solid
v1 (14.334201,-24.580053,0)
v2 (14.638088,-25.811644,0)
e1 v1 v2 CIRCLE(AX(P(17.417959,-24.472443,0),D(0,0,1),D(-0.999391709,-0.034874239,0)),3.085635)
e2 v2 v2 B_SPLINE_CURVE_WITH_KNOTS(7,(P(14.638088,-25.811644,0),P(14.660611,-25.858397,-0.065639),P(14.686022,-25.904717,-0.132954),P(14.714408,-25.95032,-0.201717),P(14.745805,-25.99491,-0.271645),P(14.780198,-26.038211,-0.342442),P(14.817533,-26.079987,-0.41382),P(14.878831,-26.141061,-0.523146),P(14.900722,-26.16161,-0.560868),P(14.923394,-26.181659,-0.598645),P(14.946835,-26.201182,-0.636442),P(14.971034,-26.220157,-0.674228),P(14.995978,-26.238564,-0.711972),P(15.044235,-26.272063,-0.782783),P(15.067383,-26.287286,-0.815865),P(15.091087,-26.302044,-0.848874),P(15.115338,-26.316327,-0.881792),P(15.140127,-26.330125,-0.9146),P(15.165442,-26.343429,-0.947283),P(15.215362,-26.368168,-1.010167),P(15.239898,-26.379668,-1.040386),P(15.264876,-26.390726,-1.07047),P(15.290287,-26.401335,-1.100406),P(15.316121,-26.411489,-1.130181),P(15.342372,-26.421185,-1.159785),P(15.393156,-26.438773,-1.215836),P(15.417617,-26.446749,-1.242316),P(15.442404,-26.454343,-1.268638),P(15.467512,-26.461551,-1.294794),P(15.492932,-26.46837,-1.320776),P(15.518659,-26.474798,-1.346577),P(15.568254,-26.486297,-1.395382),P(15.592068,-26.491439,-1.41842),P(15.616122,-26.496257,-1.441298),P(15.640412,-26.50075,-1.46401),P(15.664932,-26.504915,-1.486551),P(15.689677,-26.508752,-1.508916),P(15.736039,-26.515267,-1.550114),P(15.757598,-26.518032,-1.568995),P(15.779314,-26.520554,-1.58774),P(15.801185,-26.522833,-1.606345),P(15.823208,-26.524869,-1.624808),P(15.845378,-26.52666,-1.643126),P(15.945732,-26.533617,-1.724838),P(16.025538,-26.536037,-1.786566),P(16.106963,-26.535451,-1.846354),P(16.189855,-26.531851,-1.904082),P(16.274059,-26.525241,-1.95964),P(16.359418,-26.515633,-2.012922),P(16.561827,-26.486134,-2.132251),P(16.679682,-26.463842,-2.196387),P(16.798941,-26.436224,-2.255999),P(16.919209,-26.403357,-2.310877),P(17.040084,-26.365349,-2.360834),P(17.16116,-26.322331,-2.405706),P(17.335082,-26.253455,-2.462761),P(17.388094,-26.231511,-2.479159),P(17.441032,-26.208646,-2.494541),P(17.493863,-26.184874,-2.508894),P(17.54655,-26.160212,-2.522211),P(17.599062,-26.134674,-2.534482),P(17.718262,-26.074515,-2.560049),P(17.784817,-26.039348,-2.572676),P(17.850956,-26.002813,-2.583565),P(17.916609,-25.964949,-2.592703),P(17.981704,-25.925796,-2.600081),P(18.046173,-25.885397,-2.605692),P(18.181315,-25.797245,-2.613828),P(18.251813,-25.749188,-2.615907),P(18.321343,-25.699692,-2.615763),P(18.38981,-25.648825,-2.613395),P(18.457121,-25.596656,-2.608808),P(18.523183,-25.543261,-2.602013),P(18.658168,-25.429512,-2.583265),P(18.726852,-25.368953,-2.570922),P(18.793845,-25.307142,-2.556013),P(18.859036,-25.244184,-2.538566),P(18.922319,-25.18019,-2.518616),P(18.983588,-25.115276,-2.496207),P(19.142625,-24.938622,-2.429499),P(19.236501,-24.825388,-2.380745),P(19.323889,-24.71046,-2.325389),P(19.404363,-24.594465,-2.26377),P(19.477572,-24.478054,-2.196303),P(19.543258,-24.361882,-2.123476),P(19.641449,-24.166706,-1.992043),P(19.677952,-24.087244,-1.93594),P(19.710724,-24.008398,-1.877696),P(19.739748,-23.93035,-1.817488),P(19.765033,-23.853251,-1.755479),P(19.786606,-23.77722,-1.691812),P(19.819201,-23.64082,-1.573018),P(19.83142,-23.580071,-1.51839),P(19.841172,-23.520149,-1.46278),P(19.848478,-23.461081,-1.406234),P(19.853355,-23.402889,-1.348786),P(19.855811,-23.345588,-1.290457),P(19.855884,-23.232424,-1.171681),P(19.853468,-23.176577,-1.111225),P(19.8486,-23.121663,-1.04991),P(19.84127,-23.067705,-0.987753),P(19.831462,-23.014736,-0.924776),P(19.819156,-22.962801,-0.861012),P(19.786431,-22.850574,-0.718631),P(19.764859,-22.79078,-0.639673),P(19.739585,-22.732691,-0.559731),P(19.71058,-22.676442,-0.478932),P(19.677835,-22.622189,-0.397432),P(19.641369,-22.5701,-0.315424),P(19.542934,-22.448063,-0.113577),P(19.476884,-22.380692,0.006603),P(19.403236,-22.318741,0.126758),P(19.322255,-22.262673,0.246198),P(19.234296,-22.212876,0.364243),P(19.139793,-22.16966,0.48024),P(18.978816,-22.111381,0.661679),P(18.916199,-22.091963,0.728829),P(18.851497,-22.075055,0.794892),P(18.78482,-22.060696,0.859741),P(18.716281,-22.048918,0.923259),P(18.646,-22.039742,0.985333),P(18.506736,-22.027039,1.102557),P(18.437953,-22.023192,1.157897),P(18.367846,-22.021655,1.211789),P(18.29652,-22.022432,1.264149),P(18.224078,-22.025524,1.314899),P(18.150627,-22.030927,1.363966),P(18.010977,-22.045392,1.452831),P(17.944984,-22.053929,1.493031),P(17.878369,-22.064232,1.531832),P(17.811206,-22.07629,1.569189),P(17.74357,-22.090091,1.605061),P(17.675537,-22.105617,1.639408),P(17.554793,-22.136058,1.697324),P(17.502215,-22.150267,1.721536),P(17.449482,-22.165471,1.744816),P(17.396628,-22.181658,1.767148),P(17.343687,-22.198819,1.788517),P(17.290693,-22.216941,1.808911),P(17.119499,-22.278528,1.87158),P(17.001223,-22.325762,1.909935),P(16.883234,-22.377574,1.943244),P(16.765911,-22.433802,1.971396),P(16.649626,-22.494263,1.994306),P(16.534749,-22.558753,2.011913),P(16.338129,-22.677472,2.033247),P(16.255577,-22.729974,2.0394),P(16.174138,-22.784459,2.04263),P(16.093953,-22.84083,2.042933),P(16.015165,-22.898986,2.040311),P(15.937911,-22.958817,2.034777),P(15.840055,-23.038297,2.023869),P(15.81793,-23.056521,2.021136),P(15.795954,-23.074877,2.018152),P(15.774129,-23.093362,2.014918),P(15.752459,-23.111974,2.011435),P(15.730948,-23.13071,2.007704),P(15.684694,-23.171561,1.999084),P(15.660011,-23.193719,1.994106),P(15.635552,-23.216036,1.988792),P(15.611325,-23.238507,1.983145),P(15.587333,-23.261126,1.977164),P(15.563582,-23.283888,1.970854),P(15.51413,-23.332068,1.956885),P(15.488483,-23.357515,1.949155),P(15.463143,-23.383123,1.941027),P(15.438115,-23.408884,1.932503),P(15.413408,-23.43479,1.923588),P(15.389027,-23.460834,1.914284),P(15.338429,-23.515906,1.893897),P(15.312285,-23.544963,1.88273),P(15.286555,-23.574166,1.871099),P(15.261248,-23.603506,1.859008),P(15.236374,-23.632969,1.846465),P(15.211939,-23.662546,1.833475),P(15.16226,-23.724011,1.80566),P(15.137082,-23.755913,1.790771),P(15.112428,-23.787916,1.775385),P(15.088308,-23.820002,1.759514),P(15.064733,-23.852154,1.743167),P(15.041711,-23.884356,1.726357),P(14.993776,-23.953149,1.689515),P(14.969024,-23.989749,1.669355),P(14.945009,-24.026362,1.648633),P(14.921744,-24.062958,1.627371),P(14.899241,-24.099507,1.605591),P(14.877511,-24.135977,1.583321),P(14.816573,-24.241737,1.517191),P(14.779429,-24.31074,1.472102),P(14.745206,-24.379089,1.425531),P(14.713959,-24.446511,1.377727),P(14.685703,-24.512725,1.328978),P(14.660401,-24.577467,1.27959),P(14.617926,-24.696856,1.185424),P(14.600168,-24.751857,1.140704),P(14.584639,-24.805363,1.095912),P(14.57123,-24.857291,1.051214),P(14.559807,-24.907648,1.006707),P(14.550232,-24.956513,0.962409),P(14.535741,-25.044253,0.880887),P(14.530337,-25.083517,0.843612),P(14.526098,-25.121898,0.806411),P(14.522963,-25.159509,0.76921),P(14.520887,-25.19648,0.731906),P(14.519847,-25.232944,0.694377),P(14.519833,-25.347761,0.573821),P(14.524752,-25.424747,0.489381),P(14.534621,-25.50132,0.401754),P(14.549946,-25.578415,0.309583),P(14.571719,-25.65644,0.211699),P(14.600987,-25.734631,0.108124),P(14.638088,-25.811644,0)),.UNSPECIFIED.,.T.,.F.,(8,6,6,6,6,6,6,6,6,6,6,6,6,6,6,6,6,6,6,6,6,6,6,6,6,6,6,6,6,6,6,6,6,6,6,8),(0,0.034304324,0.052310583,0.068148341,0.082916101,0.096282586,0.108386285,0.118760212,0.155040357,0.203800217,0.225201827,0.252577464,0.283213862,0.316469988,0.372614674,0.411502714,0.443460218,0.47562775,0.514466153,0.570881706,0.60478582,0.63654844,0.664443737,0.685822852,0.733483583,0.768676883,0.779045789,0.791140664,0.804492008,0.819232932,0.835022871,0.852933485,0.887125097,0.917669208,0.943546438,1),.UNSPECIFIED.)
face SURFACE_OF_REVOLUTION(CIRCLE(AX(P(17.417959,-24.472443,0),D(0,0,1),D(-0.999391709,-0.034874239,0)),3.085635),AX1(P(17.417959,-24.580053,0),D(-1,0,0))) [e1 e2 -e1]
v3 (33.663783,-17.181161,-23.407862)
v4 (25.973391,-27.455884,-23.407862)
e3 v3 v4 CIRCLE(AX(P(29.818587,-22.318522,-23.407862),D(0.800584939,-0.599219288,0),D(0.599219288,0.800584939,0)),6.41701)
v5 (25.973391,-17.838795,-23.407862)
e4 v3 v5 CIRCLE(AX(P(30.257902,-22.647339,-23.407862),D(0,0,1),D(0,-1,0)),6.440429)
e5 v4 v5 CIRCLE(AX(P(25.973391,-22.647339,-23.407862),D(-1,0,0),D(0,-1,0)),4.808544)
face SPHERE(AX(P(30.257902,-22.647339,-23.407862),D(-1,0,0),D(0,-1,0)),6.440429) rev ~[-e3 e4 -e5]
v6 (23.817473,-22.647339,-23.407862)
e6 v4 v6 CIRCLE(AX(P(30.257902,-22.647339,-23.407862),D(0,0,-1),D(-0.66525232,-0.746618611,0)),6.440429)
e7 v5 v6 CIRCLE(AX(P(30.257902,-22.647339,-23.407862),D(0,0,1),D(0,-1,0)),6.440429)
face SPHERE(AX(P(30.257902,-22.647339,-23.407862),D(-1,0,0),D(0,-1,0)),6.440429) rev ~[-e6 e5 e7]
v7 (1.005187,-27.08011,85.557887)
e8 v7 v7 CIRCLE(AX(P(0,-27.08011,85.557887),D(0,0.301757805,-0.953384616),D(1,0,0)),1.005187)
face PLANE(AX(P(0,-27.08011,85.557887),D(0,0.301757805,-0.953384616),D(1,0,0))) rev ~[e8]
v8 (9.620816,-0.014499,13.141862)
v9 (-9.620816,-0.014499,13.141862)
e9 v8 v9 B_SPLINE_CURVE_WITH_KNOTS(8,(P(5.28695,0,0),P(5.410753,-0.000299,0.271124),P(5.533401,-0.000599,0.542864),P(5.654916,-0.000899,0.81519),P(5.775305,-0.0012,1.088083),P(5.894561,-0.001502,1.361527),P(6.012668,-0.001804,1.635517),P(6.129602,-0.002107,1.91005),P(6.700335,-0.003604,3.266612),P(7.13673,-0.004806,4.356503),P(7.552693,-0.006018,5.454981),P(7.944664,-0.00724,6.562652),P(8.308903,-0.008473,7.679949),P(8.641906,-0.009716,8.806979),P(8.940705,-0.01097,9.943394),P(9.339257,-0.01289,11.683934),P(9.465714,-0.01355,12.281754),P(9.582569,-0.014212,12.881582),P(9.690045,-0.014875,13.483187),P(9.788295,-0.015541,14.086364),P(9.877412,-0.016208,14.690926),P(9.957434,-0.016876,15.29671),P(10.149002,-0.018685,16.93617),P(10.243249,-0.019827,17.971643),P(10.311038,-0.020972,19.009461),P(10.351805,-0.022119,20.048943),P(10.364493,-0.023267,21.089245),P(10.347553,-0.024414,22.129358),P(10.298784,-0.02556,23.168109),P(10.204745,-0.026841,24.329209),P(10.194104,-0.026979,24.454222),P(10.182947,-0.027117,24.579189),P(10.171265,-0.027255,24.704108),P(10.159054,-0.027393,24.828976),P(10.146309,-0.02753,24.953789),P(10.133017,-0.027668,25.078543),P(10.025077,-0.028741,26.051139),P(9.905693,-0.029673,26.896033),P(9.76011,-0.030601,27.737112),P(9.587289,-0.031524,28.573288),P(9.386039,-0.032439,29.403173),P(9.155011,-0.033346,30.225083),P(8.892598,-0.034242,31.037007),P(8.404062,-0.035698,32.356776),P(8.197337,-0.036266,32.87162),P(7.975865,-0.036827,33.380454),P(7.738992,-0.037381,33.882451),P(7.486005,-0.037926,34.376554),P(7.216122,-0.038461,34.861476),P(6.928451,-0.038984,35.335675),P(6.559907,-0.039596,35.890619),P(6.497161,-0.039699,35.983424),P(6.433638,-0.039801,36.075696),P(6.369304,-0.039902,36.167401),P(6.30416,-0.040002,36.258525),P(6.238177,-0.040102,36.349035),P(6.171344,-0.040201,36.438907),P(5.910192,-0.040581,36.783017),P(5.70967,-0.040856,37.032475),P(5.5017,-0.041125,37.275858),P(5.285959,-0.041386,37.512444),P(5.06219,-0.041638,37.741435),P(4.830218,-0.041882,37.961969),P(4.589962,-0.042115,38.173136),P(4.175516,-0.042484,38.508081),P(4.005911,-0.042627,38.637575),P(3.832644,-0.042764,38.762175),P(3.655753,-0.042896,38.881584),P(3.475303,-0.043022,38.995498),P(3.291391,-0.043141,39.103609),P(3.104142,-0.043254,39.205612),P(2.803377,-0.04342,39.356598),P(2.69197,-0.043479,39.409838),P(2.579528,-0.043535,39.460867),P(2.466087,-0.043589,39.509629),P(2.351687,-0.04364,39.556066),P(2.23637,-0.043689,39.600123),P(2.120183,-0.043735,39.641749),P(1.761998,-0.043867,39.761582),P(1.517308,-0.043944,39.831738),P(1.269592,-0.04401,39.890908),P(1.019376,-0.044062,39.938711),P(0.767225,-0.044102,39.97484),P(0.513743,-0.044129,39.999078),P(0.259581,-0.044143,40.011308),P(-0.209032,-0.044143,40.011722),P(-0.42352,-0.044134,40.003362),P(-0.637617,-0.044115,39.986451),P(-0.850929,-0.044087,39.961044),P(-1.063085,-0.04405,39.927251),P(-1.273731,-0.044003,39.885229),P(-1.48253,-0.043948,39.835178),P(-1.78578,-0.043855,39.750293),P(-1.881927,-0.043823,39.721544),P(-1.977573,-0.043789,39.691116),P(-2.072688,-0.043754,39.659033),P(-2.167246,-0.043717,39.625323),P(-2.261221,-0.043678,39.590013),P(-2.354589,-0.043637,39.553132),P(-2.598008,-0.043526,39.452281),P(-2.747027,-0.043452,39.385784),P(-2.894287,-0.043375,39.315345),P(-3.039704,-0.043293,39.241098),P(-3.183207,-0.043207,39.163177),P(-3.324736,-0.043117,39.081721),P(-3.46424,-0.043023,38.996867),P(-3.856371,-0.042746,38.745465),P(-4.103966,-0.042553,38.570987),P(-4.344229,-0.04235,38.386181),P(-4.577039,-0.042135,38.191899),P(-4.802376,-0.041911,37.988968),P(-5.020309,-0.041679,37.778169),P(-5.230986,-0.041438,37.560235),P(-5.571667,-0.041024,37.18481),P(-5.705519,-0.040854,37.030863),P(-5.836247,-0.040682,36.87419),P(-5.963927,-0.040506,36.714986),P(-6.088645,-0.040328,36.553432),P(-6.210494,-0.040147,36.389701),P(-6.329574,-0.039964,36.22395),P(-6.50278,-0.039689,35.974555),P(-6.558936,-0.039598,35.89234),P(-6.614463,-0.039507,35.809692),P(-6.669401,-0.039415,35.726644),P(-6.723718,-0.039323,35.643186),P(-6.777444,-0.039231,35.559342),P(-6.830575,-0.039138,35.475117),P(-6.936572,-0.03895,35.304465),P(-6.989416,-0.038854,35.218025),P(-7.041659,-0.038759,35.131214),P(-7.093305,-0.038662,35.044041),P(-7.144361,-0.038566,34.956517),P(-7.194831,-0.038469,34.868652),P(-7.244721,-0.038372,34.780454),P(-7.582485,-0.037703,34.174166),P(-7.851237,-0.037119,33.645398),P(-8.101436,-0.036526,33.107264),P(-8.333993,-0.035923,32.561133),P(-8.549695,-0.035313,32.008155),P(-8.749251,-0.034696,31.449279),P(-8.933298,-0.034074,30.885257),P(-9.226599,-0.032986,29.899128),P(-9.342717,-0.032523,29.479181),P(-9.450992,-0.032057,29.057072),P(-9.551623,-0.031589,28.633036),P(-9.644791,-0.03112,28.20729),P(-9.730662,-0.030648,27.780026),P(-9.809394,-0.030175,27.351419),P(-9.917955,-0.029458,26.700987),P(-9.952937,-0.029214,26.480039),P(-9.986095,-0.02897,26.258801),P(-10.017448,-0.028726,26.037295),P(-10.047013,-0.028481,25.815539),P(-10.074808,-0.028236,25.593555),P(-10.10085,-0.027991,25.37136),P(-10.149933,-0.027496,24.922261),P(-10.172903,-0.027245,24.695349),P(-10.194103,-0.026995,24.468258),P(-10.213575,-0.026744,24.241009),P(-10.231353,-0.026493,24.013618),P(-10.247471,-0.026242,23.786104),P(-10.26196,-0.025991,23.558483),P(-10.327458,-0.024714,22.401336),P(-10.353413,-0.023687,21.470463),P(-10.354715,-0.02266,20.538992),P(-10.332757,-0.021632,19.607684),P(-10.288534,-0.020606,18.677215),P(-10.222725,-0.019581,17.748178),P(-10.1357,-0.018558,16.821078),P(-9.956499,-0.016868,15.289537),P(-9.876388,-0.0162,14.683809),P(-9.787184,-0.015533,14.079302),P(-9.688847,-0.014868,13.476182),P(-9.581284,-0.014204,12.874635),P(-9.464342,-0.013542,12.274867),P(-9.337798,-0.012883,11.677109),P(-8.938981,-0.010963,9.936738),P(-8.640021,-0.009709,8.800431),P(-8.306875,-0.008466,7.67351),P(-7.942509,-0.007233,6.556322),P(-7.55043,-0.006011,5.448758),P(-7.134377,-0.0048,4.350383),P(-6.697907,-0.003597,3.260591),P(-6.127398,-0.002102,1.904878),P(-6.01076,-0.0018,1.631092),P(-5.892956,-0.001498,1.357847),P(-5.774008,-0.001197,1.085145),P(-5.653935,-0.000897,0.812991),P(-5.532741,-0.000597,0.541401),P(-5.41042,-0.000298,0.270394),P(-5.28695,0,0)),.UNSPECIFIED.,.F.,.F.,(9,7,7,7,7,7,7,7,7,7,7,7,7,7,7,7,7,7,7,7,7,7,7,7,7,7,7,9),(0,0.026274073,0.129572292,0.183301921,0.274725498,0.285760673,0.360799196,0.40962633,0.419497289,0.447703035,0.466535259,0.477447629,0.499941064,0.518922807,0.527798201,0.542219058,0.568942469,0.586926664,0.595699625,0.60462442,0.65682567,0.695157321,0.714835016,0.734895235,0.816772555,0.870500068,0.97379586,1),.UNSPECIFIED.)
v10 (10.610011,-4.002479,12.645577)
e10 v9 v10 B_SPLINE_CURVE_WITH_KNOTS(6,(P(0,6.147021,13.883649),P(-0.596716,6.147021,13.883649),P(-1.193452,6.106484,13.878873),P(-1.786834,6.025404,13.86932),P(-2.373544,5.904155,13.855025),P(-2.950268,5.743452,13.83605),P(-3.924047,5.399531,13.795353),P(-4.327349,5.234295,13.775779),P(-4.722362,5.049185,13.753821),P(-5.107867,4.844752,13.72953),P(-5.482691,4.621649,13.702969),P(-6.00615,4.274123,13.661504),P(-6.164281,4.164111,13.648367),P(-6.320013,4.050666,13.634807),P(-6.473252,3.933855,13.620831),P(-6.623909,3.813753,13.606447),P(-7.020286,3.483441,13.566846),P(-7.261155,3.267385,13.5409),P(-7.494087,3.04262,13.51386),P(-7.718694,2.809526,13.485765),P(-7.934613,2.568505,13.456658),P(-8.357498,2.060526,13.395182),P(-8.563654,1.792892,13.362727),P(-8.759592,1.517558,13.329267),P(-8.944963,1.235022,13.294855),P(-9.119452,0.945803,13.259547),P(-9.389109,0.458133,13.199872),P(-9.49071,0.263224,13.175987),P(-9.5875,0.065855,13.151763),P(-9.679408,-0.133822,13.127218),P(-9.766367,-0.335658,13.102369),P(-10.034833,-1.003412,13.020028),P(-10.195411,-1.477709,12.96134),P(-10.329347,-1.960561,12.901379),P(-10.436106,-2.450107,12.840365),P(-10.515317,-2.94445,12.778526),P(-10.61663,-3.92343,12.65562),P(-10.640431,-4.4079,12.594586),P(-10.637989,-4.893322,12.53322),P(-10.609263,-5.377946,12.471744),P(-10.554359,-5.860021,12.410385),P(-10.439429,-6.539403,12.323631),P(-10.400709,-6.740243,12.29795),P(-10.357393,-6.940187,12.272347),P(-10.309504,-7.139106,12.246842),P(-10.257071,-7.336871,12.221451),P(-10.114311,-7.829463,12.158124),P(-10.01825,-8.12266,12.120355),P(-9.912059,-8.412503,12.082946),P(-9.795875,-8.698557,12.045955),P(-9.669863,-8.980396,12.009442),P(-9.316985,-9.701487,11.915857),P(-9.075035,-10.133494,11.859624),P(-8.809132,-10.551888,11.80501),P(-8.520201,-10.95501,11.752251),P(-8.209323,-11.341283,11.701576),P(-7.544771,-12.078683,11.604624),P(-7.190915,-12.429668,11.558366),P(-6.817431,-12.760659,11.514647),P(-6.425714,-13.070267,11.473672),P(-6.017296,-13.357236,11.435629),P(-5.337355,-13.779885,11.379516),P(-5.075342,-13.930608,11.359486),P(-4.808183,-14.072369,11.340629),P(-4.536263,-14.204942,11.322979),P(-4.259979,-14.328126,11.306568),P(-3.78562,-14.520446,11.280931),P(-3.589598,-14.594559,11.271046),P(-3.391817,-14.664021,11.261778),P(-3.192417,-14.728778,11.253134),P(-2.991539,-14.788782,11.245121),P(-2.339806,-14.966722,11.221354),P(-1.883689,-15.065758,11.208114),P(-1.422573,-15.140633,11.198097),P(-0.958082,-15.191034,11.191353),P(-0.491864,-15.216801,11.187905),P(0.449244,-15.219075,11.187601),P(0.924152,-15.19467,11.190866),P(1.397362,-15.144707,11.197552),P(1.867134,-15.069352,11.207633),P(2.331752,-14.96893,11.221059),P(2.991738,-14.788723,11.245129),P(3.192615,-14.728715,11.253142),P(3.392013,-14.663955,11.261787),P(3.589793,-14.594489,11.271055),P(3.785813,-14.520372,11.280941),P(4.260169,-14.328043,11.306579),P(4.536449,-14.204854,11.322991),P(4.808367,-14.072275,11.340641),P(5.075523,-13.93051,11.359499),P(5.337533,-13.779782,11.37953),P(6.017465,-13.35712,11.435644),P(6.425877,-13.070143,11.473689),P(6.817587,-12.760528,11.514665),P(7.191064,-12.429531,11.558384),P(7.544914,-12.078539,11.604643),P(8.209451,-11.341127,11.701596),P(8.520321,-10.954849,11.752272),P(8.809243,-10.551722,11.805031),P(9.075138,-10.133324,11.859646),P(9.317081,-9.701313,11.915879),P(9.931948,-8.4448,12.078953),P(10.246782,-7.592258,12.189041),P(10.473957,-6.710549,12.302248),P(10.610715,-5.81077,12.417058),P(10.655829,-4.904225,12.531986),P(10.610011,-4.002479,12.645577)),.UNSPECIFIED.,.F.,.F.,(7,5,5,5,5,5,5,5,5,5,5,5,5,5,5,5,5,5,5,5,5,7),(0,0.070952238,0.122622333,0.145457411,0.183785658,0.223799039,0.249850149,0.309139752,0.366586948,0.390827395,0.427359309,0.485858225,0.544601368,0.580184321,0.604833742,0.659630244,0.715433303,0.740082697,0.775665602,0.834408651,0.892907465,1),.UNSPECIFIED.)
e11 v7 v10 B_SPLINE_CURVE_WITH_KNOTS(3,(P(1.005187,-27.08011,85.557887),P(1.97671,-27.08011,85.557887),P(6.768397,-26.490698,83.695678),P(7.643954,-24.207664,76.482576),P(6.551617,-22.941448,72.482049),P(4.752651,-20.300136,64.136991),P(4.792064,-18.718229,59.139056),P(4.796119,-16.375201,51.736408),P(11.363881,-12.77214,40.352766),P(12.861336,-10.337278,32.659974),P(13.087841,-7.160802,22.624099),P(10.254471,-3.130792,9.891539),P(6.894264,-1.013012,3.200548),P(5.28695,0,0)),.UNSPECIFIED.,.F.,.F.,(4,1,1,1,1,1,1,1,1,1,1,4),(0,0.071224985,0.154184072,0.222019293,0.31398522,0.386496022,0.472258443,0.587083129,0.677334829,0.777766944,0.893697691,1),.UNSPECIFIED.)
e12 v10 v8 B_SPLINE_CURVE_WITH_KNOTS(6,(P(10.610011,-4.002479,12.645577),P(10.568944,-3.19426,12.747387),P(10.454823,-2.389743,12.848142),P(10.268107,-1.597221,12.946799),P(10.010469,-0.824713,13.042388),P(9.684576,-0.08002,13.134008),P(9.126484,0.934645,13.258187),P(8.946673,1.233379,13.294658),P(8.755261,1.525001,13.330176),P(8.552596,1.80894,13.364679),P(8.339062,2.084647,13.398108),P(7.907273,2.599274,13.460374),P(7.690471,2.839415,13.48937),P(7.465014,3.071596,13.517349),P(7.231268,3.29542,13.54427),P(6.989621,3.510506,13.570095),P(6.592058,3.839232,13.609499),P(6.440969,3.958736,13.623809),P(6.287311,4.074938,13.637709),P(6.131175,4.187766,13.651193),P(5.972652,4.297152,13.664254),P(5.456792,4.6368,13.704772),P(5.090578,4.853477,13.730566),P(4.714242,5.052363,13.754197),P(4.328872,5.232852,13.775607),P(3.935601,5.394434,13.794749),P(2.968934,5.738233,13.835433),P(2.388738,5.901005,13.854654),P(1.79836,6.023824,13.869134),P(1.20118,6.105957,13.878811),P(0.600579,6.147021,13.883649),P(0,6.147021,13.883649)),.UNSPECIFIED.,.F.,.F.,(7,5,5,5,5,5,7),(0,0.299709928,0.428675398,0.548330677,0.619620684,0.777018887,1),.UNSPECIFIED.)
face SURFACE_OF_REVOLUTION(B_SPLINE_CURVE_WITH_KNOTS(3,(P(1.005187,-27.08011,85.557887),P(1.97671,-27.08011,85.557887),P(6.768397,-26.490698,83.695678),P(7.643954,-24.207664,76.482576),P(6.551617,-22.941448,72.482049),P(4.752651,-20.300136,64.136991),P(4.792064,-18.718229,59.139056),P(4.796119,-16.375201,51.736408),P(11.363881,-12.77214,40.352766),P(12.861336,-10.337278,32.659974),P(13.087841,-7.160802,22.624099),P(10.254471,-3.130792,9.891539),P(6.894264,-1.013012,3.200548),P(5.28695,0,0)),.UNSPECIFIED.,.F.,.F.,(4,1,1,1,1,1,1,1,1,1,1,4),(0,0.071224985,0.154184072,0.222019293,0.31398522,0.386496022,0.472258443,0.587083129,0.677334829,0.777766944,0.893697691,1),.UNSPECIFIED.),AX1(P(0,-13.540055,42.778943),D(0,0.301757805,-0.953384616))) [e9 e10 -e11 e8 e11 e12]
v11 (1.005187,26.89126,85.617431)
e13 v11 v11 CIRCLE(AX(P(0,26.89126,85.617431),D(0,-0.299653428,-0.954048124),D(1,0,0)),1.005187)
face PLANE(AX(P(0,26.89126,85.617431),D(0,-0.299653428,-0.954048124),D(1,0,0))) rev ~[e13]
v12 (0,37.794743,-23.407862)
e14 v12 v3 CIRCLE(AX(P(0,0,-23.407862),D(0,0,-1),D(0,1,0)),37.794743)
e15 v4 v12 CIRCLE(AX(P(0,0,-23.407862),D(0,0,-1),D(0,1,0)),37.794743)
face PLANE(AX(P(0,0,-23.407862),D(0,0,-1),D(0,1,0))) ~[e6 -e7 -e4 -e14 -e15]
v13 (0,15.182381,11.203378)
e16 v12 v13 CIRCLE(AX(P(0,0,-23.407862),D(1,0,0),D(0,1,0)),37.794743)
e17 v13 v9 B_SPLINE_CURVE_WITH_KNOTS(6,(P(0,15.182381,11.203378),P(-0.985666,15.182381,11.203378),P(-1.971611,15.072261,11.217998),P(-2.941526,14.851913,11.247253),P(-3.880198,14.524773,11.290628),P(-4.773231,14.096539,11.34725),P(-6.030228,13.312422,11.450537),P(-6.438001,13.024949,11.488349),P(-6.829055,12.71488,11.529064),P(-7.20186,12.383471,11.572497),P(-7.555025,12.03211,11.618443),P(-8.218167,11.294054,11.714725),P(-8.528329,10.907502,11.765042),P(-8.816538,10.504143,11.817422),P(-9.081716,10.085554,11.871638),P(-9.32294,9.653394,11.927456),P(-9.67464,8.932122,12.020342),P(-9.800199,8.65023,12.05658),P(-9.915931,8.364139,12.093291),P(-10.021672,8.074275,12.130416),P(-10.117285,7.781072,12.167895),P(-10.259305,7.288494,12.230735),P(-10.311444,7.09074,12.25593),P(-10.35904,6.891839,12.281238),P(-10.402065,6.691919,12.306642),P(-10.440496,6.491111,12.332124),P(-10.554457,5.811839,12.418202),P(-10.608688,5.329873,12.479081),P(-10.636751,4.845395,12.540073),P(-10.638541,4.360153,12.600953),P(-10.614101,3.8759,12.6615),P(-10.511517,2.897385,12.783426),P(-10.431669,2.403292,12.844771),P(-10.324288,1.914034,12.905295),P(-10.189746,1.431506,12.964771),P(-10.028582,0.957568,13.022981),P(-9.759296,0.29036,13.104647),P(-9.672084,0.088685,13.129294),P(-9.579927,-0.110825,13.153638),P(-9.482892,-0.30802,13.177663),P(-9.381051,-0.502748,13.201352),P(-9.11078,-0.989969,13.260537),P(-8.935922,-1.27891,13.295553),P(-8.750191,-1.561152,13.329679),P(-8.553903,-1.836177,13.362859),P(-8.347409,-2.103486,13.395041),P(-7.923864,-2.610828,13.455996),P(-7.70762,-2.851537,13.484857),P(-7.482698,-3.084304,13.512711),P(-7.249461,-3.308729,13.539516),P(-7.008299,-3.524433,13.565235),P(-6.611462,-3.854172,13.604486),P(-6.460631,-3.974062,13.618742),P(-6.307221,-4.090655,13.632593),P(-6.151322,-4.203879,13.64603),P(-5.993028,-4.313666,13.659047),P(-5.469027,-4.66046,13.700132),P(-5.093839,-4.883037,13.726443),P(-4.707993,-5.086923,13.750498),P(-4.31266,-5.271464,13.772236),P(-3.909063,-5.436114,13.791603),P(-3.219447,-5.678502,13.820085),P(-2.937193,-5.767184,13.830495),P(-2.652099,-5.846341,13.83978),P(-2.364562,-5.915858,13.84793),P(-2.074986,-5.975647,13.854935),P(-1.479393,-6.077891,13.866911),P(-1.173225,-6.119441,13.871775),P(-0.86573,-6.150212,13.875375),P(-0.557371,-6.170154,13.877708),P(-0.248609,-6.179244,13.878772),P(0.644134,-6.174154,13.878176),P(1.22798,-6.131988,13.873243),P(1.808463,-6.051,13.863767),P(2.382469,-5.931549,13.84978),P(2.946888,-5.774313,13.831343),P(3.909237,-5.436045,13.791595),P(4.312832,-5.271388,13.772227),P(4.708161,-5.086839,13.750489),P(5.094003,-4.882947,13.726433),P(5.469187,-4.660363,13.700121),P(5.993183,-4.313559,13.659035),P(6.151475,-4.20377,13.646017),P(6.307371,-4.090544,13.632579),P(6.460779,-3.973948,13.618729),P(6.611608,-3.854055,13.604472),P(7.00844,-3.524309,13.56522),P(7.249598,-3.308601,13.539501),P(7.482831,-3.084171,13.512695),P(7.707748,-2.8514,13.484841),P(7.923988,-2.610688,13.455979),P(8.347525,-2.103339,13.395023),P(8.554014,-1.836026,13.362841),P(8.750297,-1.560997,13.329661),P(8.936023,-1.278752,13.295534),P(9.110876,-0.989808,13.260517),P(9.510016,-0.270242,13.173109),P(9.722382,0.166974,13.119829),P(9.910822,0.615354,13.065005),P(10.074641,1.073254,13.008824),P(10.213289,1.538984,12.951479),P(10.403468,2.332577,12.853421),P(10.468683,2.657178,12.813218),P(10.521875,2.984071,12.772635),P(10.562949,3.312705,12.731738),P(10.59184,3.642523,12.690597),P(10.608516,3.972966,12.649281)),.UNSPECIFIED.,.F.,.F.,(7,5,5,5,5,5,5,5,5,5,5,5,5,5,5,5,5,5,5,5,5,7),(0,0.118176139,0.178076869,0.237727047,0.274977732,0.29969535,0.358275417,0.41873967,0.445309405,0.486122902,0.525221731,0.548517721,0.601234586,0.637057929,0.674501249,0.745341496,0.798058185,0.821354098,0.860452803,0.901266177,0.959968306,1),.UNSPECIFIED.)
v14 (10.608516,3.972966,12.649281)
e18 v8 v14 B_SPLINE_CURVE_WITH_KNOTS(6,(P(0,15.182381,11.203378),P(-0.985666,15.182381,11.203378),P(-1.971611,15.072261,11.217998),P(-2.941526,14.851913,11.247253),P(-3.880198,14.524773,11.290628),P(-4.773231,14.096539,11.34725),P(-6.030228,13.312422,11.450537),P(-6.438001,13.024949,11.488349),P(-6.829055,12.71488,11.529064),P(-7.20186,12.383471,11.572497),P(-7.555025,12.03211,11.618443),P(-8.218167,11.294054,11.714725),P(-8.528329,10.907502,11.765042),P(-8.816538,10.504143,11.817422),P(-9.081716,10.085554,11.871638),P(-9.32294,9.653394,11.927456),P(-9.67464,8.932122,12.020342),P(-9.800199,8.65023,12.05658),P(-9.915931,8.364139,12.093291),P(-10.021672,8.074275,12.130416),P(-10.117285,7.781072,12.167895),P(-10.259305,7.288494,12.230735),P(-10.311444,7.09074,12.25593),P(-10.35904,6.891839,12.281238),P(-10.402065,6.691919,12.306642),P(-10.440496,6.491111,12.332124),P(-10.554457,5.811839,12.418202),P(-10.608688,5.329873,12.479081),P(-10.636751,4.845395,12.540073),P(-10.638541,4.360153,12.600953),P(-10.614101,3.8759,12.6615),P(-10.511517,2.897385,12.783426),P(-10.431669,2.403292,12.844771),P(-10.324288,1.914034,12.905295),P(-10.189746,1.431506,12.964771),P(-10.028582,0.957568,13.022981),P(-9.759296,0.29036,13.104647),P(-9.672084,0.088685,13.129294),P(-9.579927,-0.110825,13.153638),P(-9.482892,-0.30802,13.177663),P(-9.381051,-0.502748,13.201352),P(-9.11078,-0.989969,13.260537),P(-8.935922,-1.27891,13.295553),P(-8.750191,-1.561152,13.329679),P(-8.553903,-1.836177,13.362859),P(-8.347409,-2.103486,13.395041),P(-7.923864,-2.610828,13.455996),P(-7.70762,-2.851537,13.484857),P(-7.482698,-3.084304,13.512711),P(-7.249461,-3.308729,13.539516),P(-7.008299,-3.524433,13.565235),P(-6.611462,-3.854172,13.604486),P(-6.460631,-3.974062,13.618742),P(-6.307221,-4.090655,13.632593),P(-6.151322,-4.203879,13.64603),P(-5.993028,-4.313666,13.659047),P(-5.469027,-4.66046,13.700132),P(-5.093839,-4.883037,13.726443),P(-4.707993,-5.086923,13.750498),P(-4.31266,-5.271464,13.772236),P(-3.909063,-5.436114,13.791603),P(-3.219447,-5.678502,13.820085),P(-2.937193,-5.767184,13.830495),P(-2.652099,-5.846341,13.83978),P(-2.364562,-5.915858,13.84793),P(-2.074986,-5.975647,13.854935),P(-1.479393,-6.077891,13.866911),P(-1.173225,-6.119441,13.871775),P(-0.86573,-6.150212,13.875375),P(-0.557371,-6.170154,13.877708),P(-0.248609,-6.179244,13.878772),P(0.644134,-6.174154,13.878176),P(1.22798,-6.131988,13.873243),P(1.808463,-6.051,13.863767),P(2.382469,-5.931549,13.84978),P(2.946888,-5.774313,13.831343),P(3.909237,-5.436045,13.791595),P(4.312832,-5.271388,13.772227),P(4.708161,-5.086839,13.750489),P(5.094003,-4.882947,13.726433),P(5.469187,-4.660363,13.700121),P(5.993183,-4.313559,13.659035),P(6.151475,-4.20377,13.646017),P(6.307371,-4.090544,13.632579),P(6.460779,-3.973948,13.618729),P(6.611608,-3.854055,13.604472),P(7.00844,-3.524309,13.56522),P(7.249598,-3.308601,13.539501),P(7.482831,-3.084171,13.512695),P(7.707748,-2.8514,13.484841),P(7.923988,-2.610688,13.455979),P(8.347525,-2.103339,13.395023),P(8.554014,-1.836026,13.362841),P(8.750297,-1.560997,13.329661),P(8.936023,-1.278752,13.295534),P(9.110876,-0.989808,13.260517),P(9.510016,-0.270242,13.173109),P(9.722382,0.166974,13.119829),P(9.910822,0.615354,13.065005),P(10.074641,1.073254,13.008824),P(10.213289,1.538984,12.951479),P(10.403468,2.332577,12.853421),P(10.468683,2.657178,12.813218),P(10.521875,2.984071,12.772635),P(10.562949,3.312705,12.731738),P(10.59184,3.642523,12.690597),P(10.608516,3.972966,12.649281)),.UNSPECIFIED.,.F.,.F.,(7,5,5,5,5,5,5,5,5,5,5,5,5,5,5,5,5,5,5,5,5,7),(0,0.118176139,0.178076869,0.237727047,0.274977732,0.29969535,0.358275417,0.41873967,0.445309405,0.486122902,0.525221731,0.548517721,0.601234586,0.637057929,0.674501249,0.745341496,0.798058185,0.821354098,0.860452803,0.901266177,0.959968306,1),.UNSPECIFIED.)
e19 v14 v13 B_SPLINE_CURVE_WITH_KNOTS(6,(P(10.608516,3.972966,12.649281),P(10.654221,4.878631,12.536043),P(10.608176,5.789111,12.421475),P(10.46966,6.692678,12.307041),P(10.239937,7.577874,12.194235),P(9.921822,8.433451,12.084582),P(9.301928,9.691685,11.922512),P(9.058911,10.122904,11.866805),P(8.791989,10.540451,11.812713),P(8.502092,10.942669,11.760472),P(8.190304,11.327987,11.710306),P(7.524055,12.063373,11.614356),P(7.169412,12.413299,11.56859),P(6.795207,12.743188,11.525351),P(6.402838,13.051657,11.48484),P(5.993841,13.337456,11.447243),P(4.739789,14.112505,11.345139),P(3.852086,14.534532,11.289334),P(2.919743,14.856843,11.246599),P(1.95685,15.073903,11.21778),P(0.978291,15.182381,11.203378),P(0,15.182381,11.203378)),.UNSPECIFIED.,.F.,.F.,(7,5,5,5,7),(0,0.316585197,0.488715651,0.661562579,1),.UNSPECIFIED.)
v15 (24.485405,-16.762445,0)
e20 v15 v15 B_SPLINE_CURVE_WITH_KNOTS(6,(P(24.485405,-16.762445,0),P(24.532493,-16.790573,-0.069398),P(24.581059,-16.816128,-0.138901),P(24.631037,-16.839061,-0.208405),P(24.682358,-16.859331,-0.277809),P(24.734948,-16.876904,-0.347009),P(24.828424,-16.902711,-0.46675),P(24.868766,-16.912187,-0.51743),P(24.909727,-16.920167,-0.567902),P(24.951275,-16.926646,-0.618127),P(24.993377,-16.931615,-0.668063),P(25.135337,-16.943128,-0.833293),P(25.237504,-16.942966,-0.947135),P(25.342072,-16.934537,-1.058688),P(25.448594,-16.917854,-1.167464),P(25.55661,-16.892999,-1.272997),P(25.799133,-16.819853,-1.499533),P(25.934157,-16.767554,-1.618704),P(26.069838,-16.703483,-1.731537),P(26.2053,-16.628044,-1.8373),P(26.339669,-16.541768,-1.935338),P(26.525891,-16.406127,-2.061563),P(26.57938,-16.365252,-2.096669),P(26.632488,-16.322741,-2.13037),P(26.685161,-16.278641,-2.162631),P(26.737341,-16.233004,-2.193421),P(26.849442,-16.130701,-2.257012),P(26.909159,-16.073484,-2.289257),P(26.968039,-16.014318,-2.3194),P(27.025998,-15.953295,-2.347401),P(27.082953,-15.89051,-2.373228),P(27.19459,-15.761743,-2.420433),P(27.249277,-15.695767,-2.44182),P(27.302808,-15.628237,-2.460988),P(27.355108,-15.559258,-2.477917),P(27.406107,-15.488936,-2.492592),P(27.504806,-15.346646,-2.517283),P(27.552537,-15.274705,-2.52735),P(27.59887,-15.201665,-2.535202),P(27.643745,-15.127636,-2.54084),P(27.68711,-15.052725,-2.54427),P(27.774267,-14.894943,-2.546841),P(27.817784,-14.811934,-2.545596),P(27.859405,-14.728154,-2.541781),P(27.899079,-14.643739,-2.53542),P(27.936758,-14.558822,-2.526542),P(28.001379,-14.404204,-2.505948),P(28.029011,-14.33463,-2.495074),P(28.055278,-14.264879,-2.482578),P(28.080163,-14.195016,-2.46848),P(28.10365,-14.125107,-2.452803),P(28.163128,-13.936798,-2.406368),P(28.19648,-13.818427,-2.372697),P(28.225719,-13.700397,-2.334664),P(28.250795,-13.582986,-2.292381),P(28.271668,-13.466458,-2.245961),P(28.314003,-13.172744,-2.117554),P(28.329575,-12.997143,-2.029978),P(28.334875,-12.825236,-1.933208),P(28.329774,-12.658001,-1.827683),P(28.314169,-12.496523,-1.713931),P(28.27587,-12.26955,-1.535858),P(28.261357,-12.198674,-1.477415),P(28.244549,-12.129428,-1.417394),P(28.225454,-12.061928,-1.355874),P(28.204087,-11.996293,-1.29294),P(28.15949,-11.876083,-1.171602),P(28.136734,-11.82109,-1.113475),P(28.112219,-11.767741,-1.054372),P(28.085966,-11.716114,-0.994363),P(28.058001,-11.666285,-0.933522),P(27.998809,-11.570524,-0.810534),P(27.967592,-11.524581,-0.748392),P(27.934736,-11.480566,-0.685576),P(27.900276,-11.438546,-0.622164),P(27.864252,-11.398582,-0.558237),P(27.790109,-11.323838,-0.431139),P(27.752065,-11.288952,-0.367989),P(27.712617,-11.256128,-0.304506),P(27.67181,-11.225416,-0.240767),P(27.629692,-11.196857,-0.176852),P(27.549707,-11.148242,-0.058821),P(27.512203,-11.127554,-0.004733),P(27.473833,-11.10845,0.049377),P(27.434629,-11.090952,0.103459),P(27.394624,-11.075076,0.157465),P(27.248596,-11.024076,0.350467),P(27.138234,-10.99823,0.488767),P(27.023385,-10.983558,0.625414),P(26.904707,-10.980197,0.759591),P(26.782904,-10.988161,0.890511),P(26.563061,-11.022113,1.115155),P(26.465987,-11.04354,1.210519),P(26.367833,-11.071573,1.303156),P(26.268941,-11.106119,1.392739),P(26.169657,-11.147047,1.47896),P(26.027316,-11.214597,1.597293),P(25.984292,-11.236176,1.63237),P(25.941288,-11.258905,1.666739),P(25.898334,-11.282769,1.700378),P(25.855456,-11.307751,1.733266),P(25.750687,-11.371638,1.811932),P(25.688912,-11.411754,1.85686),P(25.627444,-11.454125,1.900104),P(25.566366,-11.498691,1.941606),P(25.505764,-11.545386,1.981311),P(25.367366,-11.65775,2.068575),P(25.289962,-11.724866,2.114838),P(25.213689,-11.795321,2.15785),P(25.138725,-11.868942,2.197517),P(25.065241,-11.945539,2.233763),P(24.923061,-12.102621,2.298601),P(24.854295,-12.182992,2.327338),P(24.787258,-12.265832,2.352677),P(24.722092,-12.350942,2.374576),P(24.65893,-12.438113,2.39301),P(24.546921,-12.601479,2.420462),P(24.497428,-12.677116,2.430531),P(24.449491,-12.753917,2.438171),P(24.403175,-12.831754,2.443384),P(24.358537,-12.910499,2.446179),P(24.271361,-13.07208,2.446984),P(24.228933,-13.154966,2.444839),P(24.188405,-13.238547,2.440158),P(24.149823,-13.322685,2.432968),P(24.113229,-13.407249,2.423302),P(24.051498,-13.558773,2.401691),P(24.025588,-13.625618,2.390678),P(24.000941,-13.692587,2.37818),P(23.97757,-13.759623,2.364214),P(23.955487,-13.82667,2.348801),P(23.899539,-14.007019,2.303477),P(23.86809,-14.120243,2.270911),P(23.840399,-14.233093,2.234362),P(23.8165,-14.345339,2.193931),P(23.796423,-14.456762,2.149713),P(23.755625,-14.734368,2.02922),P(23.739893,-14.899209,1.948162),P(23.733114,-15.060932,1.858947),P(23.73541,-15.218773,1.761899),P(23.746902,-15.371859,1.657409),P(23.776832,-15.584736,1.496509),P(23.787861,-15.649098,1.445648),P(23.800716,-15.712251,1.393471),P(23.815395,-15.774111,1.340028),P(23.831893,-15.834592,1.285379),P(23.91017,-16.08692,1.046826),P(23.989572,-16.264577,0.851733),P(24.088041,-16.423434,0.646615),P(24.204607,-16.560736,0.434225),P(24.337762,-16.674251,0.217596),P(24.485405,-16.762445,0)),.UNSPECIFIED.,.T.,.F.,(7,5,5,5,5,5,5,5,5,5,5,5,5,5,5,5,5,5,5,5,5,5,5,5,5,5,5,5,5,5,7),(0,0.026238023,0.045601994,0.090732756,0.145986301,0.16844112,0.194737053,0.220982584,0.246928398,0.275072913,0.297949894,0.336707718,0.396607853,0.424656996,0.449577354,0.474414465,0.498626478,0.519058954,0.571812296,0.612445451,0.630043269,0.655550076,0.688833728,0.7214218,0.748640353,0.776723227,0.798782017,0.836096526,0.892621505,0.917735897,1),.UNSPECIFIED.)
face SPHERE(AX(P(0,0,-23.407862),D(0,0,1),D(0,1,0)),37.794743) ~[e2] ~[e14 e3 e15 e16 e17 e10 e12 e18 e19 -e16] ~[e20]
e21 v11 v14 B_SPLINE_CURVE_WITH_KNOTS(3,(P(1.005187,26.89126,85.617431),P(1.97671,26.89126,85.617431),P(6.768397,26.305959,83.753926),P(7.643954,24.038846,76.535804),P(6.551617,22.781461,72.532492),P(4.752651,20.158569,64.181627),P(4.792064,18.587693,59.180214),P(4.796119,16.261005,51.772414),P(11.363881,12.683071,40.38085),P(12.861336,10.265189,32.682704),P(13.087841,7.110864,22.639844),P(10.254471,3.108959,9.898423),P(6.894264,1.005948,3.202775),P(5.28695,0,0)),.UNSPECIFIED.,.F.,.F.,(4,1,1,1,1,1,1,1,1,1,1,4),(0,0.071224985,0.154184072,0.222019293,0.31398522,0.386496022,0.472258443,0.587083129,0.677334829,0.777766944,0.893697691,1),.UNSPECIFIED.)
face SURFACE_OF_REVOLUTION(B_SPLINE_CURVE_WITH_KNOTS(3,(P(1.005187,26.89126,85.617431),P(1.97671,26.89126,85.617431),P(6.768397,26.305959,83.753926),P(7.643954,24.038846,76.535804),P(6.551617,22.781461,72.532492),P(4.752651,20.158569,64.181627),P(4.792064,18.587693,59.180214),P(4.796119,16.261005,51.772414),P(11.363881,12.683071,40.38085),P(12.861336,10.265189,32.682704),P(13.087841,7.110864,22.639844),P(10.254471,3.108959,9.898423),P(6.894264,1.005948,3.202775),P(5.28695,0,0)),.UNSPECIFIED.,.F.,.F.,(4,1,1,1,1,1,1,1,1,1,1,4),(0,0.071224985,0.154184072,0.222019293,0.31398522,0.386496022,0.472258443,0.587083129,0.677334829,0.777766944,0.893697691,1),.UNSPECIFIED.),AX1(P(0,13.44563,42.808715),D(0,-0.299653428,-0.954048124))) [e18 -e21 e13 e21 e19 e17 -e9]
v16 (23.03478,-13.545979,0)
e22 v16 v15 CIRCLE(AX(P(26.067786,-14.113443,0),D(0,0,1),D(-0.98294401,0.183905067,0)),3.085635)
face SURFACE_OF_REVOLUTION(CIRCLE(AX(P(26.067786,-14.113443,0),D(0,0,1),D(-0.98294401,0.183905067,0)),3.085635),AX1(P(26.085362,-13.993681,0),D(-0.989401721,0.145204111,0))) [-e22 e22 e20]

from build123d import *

# Parameters (mm, degrees)
F3_ANGLE = 35
F4_ANGLE = -17.5632116204


with BuildPart() as f1:
    # F0 (on Front) → F1 (revolve)
    with BuildSketch(Plane.XZ):
        with BuildLine():
            Line((0, 89.7412076592), (0, 0))
            Line((0, 0), (5.2869501524, 0))
            add(Edge.make_bspline(
                [(1.0051872814, 89.7412076592), (1.9767102785, 89.7412076592), (6.7683969744, 87.7879464468), (7.6439540301, 80.2221630789), (6.5516169566, 76.0260311835), (4.7526514389, 67.2729453647), (4.7920637371, 62.0306380242), (4.7961190222, 54.2660407471), (11.363880633, 42.3257994089), (12.8613358665, 34.256871251), (13.0878409328, 23.7302954194), (10.2544714995, 10.3751824377), (6.894264119, 3.3570373526), (5.2869501524, 0)],
                knots=[0, 0, 0, 0, 0.0712249845, 0.1541840716, 0.2220192926, 0.3139852196, 0.3864960216, 0.4722584433, 0.5870831289, 0.6773348289, 0.7777669443, 0.8936976909, 1, 1, 1, 1], degree=3))
            Line((1.0051872814, 89.7412076592), (0, 89.7412076592))
        make_face()
    revolve(axis=Axis((0, 0, 44.8706038296), (0, 0, -1)))


with BuildPart() as f3_1:
    # F3: copy of F1
    add(f1.part.rotate(Axis((0, 0, 0), (-1, 0, 0)), F3_ANGLE))


with BuildPart() as f1_1:
    # F4: moved
    add(f1.part.rotate(Axis((0, 0, 0), (-1, 0, 0)), F4_ANGLE))



with BuildPart() as f3_1_1:
    # F4: moved
    add(f3_1.part.rotate(Axis((0, 0, 0), (-1, 0, 0)), F4_ANGLE))


with BuildPart() as f1_2:
    add(f1_1.part)

    add(f3_1_1.part)  # F6 merges F3_1
    # F5 (on Right) → F6 (revolve)
    with BuildSketch(Plane.YZ):
        with BuildLine():
            Line((0, -23.4078615904), (37.79474305, -23.4078615904))
            ThreePointArc((37.79474305, -23.4078615904), (26.7249191039, 3.3170575135), (0, 14.3868814596))
            Line((0, 14.3868814596), (0, -23.4078615904))
        make_face()
    revolve(axis=Axis((0, 0, -23.4078615904), (0, 0, -1)))

    # F7 (on Top) → F8 (revolve, cut)
    with BuildSketch(Plane.XY):
        with BuildLine():
            Line((20.5017171286, -24.5800525513), (14.3342014784, -24.5800525513))
            ThreePointArc((14.3342014784, -24.5800525513), (17.4179593035, -27.5580781765), (20.5017171286, -24.5800525513))
        make_face()
    revolve(axis=Axis((17.4179593035, -24.5800525513, 0), (-1, 0, 0)), mode=Mode.SUBTRACT)

    # F7 (on Top) → F9 (revolve, cut)
    with BuildSketch(Plane.XY):
        with BuildLine():
            Line((29.1359445449, -14.4413830596), (23.0347796859, -13.545979099))
            ThreePointArc((23.0347796859, -13.545979099), (25.619739062, -17.1663753447), (29.1359445449, -14.4413830596))
        make_face()
    revolve(axis=Axis((26.0853621154, -13.9936810793, 0), (-0.9894017213, 0.1452041111, 0)), mode=Mode.SUBTRACT)

    # F10 (on face) → F11 (revolve, cut)
    with BuildSketch(Plane(origin=(0, 0, -23.4078615904), x_dir=(1, 0, 0), z_dir=(0, 0, -1))):
        with BuildLine():
            ThreePointArc((30.2579020549, 22.6473390369), (28.2182585763, 25.1430404911), (25.9733914424, 27.4558835078))
            ThreePointArc((25.9733914424, 27.4558835078), (24.3811163979, 25.2822055342), (23.8174726347, 22.6473390369))
            Line((23.8174726347, 22.6473390369), (30.2579020549, 22.6473390369))
        make_face()
        with BuildLine():
            Line((30.2579020549, 22.6473390369), (36.6983314751, 22.6473390369))
            ThreePointArc((36.6983314751, 22.6473390369), (32.8927685521, 28.5241246939), (25.9733914424, 27.4558835078))
            ThreePointArc((25.9733914424, 27.4558835078), (28.2182585763, 25.1430404911), (30.2579020549, 22.6473390369))
        make_face()
    revolve(axis=Axis((30.2579020549, -22.6473390369, -23.4078615904), (-1, 0, 0)), mode=Mode.SUBTRACT)


solid = f1_2.part
